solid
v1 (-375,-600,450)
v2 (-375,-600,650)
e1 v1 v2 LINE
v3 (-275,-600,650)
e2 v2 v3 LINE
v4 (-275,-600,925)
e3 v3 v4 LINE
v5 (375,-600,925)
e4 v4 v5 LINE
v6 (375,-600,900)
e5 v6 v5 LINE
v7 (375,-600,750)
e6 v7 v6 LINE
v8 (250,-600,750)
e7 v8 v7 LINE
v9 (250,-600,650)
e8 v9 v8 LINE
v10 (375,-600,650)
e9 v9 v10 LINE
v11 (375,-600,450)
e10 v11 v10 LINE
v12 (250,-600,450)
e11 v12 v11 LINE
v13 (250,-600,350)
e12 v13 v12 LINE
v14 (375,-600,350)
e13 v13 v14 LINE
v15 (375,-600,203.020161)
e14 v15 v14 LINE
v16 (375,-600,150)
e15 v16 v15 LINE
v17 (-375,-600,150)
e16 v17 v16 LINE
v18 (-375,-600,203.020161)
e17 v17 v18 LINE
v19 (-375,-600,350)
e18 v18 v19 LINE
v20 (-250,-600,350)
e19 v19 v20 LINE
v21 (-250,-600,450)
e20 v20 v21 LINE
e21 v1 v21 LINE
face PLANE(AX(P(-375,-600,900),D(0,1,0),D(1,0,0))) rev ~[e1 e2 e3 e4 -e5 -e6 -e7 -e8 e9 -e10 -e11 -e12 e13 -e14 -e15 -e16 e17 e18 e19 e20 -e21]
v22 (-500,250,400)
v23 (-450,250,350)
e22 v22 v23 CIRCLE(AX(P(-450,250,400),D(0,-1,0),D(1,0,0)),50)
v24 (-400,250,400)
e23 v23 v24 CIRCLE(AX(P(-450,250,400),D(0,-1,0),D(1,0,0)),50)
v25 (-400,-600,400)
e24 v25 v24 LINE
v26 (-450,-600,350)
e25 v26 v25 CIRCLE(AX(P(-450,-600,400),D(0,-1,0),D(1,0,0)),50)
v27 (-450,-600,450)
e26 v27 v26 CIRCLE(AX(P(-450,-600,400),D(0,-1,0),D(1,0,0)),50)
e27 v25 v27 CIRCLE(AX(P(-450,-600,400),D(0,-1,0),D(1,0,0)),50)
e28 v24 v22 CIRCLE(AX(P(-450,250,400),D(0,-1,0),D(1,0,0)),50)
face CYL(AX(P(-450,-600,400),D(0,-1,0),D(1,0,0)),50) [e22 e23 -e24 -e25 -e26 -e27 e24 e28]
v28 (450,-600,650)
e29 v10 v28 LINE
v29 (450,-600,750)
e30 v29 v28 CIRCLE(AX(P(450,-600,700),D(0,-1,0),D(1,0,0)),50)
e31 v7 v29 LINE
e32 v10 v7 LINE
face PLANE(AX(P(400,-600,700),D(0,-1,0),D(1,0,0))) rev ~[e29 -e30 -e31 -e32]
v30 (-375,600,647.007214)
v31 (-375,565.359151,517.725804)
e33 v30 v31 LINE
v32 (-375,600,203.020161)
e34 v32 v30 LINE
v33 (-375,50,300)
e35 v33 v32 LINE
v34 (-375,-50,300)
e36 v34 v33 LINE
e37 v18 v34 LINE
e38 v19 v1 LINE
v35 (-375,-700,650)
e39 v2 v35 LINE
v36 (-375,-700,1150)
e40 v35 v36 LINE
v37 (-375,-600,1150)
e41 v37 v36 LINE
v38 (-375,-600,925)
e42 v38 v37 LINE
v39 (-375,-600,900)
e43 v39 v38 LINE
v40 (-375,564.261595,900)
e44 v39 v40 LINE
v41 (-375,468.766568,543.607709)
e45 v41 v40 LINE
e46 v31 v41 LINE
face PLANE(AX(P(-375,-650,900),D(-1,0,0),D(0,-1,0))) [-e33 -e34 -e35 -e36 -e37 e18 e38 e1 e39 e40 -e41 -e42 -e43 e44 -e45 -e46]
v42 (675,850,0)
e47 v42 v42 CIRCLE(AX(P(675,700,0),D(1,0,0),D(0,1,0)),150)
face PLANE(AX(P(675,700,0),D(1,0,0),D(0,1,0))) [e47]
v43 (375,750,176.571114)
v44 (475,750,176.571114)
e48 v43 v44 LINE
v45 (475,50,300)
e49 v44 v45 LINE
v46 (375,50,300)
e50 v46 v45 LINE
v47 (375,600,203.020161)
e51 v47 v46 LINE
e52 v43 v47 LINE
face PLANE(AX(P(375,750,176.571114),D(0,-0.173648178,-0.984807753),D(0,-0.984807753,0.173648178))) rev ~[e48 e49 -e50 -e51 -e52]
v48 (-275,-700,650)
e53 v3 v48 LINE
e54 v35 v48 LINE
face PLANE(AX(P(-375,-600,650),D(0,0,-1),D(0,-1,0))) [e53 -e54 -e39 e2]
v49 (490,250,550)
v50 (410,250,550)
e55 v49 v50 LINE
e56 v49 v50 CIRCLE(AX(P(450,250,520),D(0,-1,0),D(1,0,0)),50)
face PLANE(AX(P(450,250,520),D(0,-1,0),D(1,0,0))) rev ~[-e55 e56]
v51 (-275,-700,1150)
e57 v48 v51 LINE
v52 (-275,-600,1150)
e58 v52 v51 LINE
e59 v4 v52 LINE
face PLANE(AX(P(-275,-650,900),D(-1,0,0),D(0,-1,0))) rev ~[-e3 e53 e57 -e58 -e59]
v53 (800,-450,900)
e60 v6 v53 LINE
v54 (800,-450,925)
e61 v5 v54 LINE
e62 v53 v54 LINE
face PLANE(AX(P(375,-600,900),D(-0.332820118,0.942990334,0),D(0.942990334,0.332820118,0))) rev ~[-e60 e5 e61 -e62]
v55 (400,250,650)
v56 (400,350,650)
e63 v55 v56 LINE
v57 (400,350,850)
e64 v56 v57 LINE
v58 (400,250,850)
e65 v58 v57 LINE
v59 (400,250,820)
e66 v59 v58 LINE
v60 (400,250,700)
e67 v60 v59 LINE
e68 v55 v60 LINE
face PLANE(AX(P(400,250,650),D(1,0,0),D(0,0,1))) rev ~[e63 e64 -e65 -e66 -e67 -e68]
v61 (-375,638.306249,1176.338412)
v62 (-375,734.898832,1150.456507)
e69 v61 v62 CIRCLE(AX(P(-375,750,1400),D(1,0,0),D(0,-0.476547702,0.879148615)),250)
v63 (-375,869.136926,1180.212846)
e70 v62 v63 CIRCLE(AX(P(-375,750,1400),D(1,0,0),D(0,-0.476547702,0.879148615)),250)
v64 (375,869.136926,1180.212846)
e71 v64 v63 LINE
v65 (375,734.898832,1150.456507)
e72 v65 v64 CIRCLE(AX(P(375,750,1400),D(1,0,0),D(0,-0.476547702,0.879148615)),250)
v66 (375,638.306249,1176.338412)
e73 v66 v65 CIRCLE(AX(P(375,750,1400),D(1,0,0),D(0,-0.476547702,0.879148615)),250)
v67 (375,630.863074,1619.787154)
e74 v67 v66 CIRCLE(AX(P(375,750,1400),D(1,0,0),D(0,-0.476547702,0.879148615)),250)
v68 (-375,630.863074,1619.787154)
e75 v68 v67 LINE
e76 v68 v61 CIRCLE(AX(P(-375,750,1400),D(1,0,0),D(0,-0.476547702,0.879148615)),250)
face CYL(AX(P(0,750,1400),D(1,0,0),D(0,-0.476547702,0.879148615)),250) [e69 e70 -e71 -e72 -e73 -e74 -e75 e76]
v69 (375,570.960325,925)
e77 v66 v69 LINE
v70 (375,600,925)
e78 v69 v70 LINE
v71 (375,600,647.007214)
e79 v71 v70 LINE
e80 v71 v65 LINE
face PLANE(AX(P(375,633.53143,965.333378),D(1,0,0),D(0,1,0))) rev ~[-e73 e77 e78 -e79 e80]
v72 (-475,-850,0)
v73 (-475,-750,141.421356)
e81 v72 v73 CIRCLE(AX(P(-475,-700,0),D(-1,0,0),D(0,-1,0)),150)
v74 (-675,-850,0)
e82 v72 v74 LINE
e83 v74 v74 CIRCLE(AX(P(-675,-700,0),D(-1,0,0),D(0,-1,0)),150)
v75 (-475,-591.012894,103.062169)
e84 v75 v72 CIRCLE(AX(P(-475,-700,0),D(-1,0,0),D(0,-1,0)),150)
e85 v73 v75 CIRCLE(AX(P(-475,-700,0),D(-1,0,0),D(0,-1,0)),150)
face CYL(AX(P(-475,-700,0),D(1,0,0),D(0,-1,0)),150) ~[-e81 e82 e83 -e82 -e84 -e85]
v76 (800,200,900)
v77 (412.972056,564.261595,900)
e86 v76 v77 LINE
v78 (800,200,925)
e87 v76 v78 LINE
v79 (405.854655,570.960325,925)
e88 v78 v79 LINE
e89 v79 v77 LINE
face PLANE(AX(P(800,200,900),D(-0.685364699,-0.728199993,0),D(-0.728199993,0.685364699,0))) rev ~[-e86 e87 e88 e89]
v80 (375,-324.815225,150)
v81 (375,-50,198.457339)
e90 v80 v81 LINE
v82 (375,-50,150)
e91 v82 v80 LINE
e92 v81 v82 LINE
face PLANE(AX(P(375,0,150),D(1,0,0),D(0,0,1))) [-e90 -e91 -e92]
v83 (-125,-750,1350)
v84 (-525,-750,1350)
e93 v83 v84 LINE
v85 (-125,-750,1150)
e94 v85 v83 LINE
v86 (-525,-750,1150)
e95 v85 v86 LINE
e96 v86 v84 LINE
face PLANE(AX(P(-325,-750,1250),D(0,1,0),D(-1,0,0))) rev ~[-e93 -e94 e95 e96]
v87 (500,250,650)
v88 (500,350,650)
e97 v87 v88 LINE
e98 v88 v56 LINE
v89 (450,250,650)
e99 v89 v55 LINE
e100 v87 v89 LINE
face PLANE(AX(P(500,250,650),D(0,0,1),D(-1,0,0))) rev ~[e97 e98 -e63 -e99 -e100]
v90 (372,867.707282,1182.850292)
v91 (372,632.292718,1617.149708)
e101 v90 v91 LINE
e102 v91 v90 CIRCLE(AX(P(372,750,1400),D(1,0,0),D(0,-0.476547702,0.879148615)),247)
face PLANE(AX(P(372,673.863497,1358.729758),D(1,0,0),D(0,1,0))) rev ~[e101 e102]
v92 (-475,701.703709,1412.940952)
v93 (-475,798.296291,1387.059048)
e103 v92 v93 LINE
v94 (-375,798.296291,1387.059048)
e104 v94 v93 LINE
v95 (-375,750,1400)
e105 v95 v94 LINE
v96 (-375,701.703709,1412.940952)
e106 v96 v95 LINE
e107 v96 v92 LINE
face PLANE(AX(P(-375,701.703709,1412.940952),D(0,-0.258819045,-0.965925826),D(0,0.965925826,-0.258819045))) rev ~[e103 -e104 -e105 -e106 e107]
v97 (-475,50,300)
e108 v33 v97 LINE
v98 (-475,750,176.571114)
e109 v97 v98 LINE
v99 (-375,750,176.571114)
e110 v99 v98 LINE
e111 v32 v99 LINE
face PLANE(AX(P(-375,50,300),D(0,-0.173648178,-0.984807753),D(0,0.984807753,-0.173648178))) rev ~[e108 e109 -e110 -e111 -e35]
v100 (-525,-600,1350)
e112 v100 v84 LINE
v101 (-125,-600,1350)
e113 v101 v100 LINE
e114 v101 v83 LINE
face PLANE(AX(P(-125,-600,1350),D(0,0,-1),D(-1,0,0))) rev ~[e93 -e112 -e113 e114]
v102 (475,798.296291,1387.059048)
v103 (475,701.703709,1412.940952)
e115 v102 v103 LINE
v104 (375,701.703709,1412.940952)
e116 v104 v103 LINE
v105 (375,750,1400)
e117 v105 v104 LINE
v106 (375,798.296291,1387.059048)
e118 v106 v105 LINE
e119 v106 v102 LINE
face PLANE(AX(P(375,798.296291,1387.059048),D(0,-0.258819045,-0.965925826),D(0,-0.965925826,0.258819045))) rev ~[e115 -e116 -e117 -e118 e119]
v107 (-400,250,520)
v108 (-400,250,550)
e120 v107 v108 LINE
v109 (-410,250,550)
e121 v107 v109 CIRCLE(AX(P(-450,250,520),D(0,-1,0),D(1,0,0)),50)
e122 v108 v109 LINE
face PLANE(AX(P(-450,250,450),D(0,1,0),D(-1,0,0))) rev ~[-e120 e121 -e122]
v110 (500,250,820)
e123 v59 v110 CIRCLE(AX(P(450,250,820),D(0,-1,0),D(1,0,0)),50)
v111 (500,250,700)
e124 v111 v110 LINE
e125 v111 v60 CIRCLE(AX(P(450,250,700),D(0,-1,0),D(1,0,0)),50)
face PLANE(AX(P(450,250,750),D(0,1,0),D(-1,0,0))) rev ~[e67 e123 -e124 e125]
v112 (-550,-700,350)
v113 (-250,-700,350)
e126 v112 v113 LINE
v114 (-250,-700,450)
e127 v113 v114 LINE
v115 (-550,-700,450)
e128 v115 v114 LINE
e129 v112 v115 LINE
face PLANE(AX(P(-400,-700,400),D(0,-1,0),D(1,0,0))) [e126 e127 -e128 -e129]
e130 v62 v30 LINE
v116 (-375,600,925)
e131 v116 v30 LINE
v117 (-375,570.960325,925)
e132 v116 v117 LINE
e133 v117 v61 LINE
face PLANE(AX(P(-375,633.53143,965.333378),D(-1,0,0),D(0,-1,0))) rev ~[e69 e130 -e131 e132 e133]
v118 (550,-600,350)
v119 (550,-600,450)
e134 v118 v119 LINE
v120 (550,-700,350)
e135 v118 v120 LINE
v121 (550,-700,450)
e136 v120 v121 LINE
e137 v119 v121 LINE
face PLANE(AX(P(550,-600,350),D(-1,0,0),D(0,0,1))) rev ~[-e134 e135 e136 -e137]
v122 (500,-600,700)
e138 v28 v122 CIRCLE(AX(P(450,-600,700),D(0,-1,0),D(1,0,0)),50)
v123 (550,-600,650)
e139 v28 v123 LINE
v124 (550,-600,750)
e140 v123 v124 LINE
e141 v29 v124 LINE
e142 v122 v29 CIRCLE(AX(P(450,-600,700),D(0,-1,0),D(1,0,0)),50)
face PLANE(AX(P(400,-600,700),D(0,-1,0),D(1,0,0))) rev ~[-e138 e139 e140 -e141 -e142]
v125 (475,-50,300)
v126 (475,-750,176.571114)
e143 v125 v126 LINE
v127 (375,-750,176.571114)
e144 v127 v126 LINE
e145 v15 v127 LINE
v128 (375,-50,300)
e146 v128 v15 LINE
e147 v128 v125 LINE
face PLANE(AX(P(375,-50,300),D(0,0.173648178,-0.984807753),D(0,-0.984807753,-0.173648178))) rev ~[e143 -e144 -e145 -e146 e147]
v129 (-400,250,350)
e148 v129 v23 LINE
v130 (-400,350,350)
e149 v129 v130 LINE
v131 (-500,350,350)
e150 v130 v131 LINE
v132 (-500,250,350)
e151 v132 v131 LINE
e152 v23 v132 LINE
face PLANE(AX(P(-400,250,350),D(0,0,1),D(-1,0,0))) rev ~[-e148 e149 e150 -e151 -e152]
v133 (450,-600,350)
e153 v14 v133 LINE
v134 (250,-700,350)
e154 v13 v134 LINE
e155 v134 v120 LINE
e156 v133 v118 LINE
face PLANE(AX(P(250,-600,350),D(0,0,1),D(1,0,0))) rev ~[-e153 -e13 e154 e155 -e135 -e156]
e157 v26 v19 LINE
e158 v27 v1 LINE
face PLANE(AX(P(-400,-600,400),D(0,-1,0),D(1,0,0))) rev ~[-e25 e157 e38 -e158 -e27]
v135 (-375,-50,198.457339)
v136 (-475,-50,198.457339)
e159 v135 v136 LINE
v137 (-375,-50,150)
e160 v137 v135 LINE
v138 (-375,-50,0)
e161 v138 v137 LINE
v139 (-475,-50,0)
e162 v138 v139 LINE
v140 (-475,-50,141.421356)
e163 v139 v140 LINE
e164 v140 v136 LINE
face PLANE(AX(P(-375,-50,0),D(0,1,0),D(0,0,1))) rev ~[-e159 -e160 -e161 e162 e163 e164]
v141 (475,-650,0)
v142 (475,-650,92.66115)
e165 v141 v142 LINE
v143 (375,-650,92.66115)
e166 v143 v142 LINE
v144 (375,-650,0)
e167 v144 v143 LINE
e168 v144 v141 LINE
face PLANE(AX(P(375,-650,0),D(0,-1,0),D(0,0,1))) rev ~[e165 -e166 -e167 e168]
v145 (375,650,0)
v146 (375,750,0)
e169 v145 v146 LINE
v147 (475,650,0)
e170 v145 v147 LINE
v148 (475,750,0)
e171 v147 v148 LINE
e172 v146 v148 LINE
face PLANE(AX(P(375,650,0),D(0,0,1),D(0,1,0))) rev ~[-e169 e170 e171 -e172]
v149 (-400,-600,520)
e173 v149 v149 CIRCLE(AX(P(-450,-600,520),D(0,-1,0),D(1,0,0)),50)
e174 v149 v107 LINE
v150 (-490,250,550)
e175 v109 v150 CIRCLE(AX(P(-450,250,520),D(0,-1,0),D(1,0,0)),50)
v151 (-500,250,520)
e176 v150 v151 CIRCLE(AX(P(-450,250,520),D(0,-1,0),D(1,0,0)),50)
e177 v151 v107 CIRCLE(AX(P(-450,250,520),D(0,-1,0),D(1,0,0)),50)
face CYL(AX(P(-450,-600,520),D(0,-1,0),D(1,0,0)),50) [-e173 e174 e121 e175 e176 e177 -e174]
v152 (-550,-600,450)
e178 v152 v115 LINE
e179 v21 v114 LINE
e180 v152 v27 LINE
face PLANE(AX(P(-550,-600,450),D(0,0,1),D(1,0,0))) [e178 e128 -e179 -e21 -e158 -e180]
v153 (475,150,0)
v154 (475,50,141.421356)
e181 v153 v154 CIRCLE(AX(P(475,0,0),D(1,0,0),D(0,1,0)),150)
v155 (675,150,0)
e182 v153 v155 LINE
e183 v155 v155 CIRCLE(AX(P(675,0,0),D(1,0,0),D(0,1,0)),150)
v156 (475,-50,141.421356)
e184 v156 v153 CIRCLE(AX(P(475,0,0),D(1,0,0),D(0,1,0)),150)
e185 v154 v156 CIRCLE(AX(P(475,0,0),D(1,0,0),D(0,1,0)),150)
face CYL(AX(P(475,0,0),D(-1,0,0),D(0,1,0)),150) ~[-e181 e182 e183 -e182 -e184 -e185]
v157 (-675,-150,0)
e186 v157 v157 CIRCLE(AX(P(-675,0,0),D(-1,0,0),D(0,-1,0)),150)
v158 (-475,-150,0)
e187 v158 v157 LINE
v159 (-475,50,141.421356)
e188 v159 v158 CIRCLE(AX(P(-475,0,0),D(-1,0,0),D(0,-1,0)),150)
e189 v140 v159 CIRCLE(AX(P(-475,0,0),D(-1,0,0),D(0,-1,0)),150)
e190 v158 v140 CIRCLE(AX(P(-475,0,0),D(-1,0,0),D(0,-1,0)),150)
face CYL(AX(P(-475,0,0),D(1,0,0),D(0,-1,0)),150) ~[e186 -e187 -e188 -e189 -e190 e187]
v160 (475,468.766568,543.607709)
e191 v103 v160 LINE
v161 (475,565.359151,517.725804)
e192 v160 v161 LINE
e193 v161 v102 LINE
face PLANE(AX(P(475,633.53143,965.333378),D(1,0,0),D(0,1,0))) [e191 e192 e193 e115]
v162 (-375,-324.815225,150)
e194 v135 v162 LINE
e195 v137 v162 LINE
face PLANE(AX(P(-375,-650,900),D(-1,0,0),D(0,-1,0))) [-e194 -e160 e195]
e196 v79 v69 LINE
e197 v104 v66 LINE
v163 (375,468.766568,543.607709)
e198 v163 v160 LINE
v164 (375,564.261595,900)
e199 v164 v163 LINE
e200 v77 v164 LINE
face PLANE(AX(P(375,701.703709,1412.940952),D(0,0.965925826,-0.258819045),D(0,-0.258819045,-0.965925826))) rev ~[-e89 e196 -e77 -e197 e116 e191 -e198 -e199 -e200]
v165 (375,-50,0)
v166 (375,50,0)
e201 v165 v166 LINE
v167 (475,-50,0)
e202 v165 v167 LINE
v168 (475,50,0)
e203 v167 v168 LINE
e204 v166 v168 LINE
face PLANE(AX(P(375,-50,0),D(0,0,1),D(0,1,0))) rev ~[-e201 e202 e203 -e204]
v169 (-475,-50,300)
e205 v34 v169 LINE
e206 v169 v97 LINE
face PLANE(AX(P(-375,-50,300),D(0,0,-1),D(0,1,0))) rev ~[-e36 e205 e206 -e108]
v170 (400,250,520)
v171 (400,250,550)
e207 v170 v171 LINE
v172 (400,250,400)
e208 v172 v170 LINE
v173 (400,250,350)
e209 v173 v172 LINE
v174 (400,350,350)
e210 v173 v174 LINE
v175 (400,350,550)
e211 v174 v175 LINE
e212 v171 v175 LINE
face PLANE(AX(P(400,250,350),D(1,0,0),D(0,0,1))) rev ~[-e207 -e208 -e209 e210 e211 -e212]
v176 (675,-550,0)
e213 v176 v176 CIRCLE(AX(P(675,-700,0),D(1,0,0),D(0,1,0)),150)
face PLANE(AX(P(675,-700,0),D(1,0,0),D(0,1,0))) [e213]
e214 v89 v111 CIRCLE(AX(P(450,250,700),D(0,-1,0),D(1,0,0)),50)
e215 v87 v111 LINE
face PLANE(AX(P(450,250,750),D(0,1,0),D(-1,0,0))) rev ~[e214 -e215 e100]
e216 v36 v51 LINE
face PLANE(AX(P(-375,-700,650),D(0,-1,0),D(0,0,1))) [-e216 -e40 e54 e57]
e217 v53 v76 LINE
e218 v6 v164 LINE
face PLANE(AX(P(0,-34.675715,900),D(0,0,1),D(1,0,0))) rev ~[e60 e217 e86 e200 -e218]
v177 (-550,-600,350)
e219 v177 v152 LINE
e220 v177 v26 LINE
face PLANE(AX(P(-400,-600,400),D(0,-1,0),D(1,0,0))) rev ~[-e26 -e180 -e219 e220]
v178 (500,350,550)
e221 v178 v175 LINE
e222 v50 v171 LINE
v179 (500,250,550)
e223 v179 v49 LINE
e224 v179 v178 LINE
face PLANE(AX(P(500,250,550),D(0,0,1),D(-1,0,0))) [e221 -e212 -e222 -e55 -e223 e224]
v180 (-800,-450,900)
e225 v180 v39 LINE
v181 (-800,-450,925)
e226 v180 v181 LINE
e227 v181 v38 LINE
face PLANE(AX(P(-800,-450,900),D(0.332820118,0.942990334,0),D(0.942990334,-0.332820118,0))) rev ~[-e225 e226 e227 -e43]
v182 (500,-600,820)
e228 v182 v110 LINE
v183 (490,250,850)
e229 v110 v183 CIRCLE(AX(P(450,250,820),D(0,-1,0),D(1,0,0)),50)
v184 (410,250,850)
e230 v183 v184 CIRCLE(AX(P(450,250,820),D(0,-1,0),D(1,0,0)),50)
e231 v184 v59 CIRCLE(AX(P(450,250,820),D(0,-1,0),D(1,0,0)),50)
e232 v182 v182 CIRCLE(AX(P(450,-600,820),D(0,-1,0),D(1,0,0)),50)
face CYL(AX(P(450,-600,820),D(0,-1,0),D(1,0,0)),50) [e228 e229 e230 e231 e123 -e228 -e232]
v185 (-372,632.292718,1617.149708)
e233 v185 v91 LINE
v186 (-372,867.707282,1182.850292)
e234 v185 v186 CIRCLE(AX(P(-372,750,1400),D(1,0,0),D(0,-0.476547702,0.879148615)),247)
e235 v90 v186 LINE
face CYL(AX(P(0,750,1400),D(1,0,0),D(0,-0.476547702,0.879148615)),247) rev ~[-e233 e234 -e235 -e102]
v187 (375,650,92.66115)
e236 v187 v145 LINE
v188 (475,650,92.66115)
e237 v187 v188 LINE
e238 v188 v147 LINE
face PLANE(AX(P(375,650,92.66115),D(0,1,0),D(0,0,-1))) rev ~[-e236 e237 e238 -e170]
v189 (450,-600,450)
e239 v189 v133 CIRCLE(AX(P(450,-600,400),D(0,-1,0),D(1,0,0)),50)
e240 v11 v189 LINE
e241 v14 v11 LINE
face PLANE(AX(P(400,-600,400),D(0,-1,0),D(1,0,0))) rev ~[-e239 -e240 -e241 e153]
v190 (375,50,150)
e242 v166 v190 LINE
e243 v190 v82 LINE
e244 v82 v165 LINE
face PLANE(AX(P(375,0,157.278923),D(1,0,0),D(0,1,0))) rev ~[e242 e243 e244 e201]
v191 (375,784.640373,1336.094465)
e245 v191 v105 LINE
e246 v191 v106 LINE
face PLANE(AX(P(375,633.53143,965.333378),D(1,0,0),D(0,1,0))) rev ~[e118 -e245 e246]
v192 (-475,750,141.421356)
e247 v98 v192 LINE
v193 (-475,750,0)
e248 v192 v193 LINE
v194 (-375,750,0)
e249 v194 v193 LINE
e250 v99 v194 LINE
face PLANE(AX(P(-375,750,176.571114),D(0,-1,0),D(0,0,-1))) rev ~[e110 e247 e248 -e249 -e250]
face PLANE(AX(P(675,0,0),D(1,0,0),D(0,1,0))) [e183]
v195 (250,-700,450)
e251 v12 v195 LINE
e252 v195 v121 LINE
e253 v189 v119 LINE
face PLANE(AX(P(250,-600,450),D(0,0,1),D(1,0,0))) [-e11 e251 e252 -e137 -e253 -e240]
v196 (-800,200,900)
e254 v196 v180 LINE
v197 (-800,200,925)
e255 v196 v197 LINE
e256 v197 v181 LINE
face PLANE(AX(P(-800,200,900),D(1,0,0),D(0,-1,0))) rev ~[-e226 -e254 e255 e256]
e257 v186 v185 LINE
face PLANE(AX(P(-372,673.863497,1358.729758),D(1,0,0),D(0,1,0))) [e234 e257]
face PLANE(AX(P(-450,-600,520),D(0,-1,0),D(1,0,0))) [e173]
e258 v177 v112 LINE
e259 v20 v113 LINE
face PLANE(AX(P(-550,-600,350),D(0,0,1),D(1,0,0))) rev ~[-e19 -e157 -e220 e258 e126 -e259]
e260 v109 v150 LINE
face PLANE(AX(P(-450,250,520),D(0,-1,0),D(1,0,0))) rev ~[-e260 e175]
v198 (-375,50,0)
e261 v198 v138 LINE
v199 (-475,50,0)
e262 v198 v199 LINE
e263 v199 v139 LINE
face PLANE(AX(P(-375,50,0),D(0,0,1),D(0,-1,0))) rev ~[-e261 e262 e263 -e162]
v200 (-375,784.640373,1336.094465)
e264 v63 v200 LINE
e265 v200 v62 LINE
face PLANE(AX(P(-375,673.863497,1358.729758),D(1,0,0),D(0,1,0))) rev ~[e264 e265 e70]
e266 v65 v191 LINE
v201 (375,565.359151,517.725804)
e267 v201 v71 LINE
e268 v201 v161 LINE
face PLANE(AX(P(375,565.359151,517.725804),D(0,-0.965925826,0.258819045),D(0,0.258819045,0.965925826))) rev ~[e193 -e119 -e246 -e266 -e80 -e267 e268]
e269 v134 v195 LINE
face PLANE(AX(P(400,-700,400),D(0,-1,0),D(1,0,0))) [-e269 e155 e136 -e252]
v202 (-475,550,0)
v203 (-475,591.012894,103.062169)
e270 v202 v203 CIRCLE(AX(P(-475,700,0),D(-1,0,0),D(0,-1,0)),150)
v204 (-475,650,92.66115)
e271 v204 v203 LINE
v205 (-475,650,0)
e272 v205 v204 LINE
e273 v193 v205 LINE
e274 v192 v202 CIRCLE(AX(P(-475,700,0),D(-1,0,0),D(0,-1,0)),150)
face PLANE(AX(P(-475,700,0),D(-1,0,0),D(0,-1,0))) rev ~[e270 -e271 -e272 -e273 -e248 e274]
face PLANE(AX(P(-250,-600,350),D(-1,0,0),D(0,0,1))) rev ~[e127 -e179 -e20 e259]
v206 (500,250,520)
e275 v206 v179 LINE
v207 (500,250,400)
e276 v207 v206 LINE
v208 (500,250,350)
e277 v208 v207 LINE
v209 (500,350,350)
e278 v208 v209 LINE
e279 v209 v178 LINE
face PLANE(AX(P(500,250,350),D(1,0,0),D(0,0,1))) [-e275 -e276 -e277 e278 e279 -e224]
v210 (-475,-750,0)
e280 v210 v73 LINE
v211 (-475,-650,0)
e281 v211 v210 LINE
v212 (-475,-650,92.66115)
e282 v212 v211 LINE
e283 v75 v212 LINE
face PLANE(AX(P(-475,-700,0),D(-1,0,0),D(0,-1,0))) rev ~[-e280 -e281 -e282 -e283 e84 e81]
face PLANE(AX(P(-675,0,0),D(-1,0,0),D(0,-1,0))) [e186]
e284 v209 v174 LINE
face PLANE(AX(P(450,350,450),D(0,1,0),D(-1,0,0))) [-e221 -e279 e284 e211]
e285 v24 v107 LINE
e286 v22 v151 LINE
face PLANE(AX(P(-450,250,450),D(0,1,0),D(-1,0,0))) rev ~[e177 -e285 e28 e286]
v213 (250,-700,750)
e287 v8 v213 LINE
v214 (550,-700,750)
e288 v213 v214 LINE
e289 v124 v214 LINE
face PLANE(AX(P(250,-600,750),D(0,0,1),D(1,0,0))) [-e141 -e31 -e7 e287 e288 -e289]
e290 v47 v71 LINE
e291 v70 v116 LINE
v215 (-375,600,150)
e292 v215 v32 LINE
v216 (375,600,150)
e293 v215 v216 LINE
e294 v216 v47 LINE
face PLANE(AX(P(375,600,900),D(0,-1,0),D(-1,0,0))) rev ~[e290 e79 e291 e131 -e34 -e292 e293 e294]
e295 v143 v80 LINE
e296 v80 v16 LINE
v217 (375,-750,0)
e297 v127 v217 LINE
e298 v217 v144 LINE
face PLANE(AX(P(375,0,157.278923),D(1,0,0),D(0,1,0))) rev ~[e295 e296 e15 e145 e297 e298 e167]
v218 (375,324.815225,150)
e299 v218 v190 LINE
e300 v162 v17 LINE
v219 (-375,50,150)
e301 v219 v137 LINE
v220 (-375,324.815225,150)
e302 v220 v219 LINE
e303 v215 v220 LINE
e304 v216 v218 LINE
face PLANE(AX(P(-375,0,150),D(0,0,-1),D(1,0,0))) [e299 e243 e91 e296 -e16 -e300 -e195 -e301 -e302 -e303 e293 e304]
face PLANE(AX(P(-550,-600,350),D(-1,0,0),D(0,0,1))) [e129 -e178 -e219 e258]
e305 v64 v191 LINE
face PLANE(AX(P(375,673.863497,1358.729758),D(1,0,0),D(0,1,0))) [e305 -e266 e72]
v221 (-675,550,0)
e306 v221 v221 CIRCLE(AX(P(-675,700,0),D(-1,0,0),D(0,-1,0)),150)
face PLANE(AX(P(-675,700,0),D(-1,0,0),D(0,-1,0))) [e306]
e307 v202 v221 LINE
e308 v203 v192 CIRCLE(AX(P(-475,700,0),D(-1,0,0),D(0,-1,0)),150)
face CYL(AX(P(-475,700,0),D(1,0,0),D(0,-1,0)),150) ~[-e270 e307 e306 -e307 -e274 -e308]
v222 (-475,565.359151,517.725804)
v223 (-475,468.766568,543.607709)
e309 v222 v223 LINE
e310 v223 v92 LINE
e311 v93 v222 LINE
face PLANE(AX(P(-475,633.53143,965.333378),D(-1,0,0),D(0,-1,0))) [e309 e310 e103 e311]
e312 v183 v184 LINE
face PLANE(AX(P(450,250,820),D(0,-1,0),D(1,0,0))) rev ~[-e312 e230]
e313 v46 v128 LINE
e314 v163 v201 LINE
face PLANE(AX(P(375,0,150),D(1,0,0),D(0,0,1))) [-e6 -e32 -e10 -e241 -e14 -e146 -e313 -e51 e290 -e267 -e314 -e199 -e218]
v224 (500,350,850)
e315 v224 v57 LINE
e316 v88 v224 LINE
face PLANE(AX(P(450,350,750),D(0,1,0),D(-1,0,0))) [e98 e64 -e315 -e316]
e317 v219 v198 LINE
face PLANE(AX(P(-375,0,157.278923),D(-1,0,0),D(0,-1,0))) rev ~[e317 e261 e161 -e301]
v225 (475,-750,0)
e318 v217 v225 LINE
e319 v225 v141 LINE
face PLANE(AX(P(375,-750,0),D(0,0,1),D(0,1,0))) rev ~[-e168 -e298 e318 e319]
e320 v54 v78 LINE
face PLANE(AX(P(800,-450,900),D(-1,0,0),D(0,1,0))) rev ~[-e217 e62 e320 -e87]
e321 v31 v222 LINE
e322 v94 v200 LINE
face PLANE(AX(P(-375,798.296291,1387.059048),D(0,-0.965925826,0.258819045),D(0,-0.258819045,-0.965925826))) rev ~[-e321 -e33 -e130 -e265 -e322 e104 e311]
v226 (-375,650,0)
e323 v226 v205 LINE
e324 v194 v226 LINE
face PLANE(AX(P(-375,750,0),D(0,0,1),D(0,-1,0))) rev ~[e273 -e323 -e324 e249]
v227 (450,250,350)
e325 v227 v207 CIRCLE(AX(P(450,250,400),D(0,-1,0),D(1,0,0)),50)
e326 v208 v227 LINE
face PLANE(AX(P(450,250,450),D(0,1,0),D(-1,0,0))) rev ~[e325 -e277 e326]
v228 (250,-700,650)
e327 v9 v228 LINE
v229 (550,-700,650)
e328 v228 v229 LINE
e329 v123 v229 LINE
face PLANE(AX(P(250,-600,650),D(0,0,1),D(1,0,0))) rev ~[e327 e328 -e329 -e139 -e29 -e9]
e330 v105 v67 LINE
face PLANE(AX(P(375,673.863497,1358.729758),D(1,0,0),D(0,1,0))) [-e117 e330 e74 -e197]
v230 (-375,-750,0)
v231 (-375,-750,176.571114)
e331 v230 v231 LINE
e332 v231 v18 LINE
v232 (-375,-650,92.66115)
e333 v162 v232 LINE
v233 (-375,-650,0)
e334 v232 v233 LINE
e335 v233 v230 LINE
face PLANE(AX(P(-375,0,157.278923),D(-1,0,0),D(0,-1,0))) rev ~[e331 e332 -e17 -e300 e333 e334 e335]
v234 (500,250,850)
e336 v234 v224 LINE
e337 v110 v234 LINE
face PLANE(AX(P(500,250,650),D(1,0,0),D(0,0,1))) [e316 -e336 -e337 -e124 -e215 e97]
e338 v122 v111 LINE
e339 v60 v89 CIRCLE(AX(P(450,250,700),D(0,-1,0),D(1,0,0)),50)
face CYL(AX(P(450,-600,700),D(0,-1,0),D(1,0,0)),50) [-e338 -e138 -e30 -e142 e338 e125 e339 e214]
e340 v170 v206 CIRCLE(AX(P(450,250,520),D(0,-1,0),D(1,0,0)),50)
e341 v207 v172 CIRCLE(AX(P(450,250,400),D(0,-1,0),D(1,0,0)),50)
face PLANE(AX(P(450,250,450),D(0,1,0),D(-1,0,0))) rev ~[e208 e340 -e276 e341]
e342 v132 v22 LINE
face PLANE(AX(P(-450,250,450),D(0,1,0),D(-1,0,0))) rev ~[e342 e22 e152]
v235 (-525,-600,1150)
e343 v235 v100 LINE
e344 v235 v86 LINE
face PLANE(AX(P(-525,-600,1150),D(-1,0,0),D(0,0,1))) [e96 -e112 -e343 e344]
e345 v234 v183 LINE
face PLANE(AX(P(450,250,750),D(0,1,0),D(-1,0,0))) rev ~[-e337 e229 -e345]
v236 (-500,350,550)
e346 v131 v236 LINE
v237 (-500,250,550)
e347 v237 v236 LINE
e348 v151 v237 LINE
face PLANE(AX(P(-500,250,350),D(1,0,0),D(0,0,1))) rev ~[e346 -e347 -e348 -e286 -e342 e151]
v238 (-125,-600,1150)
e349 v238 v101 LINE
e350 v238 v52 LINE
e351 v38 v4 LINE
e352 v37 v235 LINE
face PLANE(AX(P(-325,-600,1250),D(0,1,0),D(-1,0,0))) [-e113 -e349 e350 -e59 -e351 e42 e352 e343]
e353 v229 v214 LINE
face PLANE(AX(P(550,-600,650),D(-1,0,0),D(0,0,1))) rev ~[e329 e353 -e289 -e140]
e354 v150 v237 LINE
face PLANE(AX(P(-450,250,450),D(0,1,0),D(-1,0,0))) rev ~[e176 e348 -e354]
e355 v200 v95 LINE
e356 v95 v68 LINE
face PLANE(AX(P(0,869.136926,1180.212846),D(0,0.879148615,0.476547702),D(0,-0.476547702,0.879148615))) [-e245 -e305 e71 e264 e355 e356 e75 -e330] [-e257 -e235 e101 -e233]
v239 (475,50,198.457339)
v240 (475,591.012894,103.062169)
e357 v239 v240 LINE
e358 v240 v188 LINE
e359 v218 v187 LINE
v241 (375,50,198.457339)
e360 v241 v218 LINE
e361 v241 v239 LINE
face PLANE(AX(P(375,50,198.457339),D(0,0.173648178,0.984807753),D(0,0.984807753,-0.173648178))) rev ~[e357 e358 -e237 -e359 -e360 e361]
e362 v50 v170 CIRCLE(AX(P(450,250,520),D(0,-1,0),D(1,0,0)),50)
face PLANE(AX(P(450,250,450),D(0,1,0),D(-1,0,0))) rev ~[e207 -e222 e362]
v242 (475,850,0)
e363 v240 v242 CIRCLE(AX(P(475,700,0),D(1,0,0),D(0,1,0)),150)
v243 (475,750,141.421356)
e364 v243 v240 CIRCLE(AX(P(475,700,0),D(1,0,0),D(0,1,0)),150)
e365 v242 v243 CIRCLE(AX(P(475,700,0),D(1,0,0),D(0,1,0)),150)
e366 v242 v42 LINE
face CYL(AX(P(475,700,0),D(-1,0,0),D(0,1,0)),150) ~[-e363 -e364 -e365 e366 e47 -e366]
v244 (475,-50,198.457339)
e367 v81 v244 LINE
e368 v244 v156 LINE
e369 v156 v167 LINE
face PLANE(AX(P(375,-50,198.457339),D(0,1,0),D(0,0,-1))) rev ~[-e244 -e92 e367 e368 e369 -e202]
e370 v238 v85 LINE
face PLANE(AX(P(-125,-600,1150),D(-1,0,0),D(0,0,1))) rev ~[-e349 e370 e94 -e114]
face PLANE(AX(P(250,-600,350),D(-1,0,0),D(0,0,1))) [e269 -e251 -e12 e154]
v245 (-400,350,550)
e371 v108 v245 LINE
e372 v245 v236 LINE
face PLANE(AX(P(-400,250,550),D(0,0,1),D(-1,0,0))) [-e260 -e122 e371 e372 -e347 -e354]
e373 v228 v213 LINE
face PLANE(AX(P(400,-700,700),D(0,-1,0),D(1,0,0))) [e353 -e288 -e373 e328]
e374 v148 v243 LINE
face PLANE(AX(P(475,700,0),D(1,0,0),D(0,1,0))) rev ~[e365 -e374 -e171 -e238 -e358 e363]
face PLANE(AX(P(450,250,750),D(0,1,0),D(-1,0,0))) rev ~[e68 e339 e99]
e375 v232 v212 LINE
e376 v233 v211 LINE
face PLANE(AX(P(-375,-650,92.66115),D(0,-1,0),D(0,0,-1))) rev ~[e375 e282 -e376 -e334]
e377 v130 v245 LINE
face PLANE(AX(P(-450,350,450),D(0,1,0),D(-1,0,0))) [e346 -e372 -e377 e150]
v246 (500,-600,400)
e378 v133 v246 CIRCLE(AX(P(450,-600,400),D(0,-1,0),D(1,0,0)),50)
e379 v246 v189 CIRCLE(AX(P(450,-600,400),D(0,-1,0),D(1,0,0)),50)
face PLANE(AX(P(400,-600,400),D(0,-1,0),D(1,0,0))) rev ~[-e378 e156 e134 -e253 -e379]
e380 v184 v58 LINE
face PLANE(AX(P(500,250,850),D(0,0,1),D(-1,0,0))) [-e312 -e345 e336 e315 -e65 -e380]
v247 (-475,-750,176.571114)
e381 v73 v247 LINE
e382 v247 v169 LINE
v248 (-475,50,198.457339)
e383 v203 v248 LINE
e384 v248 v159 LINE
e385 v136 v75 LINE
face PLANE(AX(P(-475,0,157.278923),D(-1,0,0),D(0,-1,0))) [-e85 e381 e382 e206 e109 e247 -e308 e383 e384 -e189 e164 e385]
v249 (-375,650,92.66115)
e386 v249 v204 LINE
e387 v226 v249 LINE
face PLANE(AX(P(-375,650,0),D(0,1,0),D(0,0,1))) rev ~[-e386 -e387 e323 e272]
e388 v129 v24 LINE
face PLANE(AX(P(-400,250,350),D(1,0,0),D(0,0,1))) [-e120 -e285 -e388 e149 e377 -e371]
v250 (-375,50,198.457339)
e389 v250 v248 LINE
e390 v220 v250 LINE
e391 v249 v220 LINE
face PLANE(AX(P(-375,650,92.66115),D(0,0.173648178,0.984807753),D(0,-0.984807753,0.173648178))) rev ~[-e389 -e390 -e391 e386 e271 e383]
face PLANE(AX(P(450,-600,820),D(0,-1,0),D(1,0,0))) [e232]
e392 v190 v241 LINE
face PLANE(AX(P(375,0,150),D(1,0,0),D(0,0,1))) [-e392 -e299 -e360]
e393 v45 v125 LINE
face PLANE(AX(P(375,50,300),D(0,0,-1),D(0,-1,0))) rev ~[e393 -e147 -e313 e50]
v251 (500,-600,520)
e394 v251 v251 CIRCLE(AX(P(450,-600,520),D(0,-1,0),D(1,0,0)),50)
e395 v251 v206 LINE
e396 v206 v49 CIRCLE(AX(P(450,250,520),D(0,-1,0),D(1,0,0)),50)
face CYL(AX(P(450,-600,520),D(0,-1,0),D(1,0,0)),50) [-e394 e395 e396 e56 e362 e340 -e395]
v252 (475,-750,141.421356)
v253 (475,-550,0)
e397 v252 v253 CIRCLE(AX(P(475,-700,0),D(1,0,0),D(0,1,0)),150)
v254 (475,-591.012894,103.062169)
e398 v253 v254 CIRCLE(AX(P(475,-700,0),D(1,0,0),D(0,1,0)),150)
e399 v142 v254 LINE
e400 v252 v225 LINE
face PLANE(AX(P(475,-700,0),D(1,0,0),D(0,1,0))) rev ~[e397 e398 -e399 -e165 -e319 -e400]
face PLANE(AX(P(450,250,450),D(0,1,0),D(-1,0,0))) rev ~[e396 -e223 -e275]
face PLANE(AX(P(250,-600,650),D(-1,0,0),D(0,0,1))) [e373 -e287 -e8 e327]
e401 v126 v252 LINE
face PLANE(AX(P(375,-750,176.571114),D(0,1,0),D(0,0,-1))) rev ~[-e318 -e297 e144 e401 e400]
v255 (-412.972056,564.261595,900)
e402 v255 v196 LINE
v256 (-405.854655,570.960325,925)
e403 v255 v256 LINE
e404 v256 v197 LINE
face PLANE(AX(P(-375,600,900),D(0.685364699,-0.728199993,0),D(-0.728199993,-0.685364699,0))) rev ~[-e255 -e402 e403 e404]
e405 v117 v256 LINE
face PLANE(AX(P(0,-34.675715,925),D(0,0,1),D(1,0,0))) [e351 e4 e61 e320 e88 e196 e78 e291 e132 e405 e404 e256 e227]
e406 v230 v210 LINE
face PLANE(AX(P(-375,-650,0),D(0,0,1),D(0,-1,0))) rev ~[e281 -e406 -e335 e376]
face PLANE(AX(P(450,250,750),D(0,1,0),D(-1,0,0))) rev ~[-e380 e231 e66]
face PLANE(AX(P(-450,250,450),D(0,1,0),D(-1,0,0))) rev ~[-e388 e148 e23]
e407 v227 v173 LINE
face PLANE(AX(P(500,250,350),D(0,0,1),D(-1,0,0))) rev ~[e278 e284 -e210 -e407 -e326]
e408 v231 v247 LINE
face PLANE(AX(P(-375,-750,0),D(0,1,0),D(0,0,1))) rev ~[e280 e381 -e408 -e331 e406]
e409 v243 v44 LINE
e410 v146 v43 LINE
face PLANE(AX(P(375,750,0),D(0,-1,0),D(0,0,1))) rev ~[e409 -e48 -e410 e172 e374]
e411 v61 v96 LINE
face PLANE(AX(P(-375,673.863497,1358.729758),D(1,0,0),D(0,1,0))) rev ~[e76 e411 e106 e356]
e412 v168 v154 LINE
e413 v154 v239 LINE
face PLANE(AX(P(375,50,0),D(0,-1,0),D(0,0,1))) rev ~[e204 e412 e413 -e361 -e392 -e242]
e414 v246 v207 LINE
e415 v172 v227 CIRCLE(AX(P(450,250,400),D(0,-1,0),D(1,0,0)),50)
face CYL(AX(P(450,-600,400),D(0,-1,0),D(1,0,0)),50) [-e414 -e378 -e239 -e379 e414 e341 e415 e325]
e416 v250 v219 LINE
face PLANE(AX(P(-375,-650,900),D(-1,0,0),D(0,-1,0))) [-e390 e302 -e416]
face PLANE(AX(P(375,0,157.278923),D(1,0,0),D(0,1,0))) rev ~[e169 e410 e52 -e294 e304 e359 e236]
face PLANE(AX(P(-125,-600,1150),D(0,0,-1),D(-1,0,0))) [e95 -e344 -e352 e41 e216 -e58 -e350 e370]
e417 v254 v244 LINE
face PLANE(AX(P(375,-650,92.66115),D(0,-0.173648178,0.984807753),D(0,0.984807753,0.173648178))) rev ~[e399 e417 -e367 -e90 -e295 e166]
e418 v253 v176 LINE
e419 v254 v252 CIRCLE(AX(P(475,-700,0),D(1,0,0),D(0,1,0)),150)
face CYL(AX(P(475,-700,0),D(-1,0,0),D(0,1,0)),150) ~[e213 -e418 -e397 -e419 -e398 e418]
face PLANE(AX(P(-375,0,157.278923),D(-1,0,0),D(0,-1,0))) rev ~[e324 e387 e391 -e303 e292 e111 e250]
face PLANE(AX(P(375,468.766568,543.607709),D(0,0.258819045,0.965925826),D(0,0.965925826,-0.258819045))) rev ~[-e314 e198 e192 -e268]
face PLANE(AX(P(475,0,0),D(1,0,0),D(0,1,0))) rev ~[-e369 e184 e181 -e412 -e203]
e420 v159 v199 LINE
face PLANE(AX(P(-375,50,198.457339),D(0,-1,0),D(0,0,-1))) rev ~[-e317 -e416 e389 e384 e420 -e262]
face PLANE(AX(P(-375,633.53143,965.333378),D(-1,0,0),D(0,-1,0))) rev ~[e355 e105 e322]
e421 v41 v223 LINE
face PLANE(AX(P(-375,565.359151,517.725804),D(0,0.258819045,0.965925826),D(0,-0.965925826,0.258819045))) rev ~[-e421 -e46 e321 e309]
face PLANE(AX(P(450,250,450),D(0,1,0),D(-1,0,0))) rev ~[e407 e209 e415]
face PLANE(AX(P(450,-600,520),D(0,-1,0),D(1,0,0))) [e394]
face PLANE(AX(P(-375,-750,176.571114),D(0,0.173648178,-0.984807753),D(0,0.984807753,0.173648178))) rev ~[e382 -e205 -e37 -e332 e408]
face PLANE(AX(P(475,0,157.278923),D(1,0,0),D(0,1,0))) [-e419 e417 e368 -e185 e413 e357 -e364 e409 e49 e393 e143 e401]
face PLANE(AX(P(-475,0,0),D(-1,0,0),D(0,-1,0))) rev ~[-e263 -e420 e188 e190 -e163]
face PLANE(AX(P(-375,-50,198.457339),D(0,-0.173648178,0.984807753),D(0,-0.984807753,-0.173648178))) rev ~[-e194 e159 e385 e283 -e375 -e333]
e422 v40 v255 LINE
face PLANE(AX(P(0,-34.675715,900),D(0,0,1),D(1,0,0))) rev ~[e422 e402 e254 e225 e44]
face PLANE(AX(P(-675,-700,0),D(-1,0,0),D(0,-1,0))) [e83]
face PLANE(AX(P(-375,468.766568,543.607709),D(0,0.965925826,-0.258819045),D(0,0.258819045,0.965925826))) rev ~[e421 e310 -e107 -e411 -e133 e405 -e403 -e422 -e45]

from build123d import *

# Parameters (mm, degrees)
F0_W      = 750
F0_H      = 750
F1_DEPTH  = 600
F3_DEPTH  = 25
F4_W      = 100
F4_H      = 500
F5_DEPTH  = 100
F6_W      = 400
F6_H      = 200
F7_DEPTH  = 150
F10_DEPTH = 100
F11_DEPTH = 100
F12_R     = 150
F14_DEPTH = 200
F13_R     = 150
F15_DEPTH = 200
F17_DEPTH = 375
F18_T     = -3
F21_DEPTH = 100
F22_DEPTH = 100
F23_R     = 50
F24_DEPTH = 850
F25_W     = 300
F25_H     = 100
F26_DEPTH = 100
F30_W     = 100
F30_H     = 200
F31_DEPTH = 100


with BuildPart() as f1:
    # F0 (on Front) → F1 (new body, symmetric)
    with BuildSketch(Plane.XZ):
        with Locations((0, 525)):
            Rectangle(F0_W, F0_H)
    extrude(amount=F1_DEPTH, both=True)

    # F2 (on face) → F3 (join)
    with BuildSketch(Plane.XY.offset(900)):
        Polygon((-800, -450), (-375, -600), (375, -600), (800, -450), (800, 200), (375, 600), (-375, 600), (-800, 200), align=None)
    extrude(amount=F3_DEPTH)

    # F4 (on face) → F5 (join)
    with BuildSketch(Plane(origin=(-375, 0, 0), x_dir=(0, -1, 0), z_dir=(-1, 0, 0))):
        with Locations((650, 900)):
            Rectangle(F4_W, F4_H)
    extrude(amount=-F5_DEPTH)

    # F6 (on face) → F7 (join)
    with BuildSketch(Plane(origin=(0, -600, 0), x_dir=(-1, 0, 0), z_dir=(0, 1, 0))):
        with Locations((325, 1250)):
            Rectangle(F6_W, F6_H)
    extrude(amount=-F7_DEPTH)

    # F8 (on face) → F10 (join)
    with BuildSketch(Plane(origin=(-375, 0, 0), x_dir=(0, -1, 0), z_dir=(-1, 0, 0))):
        Polygon((50, 300), (-50, 300), (-750, 176.5711135041), (-750, 0), (-650, 0), (-650, 92.6611503863), (-50, 198.4573388114), (-50, 0), (50, 0), (50, 198.4573388114), (650, 92.6611503863), (650, 0), (750, 0), (750, 176.5711135041), align=None)
    extrude(amount=F10_DEPTH)

    # F9 (on face) → F11 (join)
    with BuildSketch(Plane.YZ.offset(375)):
        Polygon((-750, 176.5711135041), (-750, 0), (-650, 0), (-650, 92.6611503863), (-50, 198.4573388114), (-50, 0), (50, 0), (50, 198.4573388114), (650, 92.6611503863), (650, 0), (750, 0), (750, 176.5711135041), (50, 300), (-50, 300), align=None)
    extrude(amount=F11_DEPTH)

    # F12 (on face) → F14 (join)
    with BuildSketch(Plane.YZ.offset(475)):
        with Locations((-700, 0)):
            Circle(F12_R)
        Circle(F12_R)
        with Locations((700, 0)):
            Circle(F12_R)
    extrude(amount=F14_DEPTH)

    # F13 (on face) → F15 (join)
    with BuildSketch(Plane(origin=(-475, 0, 0), x_dir=(0, -1, 0), z_dir=(-1, 0, 0))):
        with Locations((-700, 0)):
            Circle(F13_R)
        Circle(F13_R)
        with Locations((700, 0)):
            Circle(F13_R)
    extrude(amount=F15_DEPTH)



with BuildPart() as f17:
    # F16 (on Right) → F17 (new body, symmetric)
    with BuildSketch(Plane.YZ):
        with BuildLine():
            Line((869.1369255612, 1180.2128462175), (630.8630744388, 1619.7871537825))
            ThreePointArc((630.8630744388, 1619.7871537825), (530.2128462175, 1280.8630744388), (869.1369255612, 1180.2128462175))
        make_face()
    extrude(amount=F17_DEPTH, both=True)

    # F18
    f18_openings = [f17.faces().sort_by_distance(p)[0] for p in [
        (0, 750, 1400),
    ]]
    offset(amount=F18_T, openings=f18_openings)


with BuildPart() as f1_1:
    add(f1.part)

    add(f17.part)  # F21 merges F17
    # F19 (on face) → F21 (join)
    with BuildSketch(Plane(origin=(-375, 0, 0), x_dir=(0, -1, 0), z_dir=(-1, 0, 0))):
        Polygon((-468.7665680933, 543.607708595), (-701.7037086855, 1412.9409522551), (-798.2962913145, 1387.0590477449), (-565.3591507222, 517.7258040847), align=None)
    extrude(amount=F21_DEPTH)

    # F20 (on face) → F22 (join)
    with BuildSketch(Plane.YZ.offset(375)):
        Polygon((701.7037086855, 1412.9409522551), (468.7665680933, 543.607708595), (565.3591507222, 517.7258040847), (798.2962913145, 1387.0590477449), align=None)
    extrude(amount=F22_DEPTH)



with BuildPart() as f24:
    # F23 (on face) → F24 (new body)
    with BuildSketch(Plane.XZ.offset(600)):
        with Locations((450, 820)):
            Circle(F23_R)
    extrude(amount=-F24_DEPTH)


with BuildPart() as f24b:
    # F23 (on face) → F24, piece 2 (new body)
    with BuildSketch(Plane.XZ.offset(600)):
        with Locations((450, 700)):
            Circle(F23_R)
    extrude(amount=-F24_DEPTH)


with BuildPart() as f24c:
    # F23 (on face) → F24, piece 3 (new body)
    with BuildSketch(Plane.XZ.offset(600)):
        with Locations((450, 520)):
            Circle(F23_R)
    extrude(amount=-F24_DEPTH)


with BuildPart() as f24d:
    # F23 (on face) → F24, piece 4 (new body)
    with BuildSketch(Plane.XZ.offset(600)):
        with Locations((450, 400)):
            Circle(F23_R)
    extrude(amount=-F24_DEPTH)


with BuildPart() as f24e:
    # F23 (on face) → F24, piece 5 (new body)
    with BuildSketch(Plane.XZ.offset(600)):
        with Locations((-450, 520)):
            Circle(F23_R)
    extrude(amount=-F24_DEPTH)


with BuildPart() as f24f:
    # F23 (on face) → F24, piece 6 (new body)
    with BuildSketch(Plane.XZ.offset(600)):
        with Locations((-450, 400)):
            Circle(F23_R)
    extrude(amount=-F24_DEPTH)


with BuildPart() as f1_2:
    add(f1_1.part)

    add(f24b.part)  # F26 merges F24b

    add(f24d.part)  # F26 merges F24d

    add(f24f.part)  # F26 merges F24f
    # F25 (on face) → F26 (join)
    with BuildSketch(Plane.XZ.offset(600)):
        with Locations((-400, 400)):
            Rectangle(F25_W, F25_H)
        with Locations((400, 400)):
            Rectangle(F25_W, F25_H)
        with Locations((400, 700)):
            Rectangle(F25_W, F25_H)
    extrude(amount=F26_DEPTH)

    # F27: union 

    # F28: union 

    # F29: union 


    add(f24.part)  # F31 merges F24

    add(f24c.part)  # F31 merges F24c

    add(f24e.part)  # F31 merges F24e
    # F30 (on face) → F31 (join)
    with BuildSketch(Plane(origin=(0, 250, 0), x_dir=(-1, 0, 0), z_dir=(0, 1, 0))):
        with Locations((-450, 450)):
            Rectangle(F30_W, F30_H)
        with Locations((450, 450)):
            Rectangle(F30_W, F30_H)
        with Locations((-450, 750)):
            Rectangle(F30_W, F30_H)
    extrude(amount=F31_DEPTH)


solid = f1_2.part
